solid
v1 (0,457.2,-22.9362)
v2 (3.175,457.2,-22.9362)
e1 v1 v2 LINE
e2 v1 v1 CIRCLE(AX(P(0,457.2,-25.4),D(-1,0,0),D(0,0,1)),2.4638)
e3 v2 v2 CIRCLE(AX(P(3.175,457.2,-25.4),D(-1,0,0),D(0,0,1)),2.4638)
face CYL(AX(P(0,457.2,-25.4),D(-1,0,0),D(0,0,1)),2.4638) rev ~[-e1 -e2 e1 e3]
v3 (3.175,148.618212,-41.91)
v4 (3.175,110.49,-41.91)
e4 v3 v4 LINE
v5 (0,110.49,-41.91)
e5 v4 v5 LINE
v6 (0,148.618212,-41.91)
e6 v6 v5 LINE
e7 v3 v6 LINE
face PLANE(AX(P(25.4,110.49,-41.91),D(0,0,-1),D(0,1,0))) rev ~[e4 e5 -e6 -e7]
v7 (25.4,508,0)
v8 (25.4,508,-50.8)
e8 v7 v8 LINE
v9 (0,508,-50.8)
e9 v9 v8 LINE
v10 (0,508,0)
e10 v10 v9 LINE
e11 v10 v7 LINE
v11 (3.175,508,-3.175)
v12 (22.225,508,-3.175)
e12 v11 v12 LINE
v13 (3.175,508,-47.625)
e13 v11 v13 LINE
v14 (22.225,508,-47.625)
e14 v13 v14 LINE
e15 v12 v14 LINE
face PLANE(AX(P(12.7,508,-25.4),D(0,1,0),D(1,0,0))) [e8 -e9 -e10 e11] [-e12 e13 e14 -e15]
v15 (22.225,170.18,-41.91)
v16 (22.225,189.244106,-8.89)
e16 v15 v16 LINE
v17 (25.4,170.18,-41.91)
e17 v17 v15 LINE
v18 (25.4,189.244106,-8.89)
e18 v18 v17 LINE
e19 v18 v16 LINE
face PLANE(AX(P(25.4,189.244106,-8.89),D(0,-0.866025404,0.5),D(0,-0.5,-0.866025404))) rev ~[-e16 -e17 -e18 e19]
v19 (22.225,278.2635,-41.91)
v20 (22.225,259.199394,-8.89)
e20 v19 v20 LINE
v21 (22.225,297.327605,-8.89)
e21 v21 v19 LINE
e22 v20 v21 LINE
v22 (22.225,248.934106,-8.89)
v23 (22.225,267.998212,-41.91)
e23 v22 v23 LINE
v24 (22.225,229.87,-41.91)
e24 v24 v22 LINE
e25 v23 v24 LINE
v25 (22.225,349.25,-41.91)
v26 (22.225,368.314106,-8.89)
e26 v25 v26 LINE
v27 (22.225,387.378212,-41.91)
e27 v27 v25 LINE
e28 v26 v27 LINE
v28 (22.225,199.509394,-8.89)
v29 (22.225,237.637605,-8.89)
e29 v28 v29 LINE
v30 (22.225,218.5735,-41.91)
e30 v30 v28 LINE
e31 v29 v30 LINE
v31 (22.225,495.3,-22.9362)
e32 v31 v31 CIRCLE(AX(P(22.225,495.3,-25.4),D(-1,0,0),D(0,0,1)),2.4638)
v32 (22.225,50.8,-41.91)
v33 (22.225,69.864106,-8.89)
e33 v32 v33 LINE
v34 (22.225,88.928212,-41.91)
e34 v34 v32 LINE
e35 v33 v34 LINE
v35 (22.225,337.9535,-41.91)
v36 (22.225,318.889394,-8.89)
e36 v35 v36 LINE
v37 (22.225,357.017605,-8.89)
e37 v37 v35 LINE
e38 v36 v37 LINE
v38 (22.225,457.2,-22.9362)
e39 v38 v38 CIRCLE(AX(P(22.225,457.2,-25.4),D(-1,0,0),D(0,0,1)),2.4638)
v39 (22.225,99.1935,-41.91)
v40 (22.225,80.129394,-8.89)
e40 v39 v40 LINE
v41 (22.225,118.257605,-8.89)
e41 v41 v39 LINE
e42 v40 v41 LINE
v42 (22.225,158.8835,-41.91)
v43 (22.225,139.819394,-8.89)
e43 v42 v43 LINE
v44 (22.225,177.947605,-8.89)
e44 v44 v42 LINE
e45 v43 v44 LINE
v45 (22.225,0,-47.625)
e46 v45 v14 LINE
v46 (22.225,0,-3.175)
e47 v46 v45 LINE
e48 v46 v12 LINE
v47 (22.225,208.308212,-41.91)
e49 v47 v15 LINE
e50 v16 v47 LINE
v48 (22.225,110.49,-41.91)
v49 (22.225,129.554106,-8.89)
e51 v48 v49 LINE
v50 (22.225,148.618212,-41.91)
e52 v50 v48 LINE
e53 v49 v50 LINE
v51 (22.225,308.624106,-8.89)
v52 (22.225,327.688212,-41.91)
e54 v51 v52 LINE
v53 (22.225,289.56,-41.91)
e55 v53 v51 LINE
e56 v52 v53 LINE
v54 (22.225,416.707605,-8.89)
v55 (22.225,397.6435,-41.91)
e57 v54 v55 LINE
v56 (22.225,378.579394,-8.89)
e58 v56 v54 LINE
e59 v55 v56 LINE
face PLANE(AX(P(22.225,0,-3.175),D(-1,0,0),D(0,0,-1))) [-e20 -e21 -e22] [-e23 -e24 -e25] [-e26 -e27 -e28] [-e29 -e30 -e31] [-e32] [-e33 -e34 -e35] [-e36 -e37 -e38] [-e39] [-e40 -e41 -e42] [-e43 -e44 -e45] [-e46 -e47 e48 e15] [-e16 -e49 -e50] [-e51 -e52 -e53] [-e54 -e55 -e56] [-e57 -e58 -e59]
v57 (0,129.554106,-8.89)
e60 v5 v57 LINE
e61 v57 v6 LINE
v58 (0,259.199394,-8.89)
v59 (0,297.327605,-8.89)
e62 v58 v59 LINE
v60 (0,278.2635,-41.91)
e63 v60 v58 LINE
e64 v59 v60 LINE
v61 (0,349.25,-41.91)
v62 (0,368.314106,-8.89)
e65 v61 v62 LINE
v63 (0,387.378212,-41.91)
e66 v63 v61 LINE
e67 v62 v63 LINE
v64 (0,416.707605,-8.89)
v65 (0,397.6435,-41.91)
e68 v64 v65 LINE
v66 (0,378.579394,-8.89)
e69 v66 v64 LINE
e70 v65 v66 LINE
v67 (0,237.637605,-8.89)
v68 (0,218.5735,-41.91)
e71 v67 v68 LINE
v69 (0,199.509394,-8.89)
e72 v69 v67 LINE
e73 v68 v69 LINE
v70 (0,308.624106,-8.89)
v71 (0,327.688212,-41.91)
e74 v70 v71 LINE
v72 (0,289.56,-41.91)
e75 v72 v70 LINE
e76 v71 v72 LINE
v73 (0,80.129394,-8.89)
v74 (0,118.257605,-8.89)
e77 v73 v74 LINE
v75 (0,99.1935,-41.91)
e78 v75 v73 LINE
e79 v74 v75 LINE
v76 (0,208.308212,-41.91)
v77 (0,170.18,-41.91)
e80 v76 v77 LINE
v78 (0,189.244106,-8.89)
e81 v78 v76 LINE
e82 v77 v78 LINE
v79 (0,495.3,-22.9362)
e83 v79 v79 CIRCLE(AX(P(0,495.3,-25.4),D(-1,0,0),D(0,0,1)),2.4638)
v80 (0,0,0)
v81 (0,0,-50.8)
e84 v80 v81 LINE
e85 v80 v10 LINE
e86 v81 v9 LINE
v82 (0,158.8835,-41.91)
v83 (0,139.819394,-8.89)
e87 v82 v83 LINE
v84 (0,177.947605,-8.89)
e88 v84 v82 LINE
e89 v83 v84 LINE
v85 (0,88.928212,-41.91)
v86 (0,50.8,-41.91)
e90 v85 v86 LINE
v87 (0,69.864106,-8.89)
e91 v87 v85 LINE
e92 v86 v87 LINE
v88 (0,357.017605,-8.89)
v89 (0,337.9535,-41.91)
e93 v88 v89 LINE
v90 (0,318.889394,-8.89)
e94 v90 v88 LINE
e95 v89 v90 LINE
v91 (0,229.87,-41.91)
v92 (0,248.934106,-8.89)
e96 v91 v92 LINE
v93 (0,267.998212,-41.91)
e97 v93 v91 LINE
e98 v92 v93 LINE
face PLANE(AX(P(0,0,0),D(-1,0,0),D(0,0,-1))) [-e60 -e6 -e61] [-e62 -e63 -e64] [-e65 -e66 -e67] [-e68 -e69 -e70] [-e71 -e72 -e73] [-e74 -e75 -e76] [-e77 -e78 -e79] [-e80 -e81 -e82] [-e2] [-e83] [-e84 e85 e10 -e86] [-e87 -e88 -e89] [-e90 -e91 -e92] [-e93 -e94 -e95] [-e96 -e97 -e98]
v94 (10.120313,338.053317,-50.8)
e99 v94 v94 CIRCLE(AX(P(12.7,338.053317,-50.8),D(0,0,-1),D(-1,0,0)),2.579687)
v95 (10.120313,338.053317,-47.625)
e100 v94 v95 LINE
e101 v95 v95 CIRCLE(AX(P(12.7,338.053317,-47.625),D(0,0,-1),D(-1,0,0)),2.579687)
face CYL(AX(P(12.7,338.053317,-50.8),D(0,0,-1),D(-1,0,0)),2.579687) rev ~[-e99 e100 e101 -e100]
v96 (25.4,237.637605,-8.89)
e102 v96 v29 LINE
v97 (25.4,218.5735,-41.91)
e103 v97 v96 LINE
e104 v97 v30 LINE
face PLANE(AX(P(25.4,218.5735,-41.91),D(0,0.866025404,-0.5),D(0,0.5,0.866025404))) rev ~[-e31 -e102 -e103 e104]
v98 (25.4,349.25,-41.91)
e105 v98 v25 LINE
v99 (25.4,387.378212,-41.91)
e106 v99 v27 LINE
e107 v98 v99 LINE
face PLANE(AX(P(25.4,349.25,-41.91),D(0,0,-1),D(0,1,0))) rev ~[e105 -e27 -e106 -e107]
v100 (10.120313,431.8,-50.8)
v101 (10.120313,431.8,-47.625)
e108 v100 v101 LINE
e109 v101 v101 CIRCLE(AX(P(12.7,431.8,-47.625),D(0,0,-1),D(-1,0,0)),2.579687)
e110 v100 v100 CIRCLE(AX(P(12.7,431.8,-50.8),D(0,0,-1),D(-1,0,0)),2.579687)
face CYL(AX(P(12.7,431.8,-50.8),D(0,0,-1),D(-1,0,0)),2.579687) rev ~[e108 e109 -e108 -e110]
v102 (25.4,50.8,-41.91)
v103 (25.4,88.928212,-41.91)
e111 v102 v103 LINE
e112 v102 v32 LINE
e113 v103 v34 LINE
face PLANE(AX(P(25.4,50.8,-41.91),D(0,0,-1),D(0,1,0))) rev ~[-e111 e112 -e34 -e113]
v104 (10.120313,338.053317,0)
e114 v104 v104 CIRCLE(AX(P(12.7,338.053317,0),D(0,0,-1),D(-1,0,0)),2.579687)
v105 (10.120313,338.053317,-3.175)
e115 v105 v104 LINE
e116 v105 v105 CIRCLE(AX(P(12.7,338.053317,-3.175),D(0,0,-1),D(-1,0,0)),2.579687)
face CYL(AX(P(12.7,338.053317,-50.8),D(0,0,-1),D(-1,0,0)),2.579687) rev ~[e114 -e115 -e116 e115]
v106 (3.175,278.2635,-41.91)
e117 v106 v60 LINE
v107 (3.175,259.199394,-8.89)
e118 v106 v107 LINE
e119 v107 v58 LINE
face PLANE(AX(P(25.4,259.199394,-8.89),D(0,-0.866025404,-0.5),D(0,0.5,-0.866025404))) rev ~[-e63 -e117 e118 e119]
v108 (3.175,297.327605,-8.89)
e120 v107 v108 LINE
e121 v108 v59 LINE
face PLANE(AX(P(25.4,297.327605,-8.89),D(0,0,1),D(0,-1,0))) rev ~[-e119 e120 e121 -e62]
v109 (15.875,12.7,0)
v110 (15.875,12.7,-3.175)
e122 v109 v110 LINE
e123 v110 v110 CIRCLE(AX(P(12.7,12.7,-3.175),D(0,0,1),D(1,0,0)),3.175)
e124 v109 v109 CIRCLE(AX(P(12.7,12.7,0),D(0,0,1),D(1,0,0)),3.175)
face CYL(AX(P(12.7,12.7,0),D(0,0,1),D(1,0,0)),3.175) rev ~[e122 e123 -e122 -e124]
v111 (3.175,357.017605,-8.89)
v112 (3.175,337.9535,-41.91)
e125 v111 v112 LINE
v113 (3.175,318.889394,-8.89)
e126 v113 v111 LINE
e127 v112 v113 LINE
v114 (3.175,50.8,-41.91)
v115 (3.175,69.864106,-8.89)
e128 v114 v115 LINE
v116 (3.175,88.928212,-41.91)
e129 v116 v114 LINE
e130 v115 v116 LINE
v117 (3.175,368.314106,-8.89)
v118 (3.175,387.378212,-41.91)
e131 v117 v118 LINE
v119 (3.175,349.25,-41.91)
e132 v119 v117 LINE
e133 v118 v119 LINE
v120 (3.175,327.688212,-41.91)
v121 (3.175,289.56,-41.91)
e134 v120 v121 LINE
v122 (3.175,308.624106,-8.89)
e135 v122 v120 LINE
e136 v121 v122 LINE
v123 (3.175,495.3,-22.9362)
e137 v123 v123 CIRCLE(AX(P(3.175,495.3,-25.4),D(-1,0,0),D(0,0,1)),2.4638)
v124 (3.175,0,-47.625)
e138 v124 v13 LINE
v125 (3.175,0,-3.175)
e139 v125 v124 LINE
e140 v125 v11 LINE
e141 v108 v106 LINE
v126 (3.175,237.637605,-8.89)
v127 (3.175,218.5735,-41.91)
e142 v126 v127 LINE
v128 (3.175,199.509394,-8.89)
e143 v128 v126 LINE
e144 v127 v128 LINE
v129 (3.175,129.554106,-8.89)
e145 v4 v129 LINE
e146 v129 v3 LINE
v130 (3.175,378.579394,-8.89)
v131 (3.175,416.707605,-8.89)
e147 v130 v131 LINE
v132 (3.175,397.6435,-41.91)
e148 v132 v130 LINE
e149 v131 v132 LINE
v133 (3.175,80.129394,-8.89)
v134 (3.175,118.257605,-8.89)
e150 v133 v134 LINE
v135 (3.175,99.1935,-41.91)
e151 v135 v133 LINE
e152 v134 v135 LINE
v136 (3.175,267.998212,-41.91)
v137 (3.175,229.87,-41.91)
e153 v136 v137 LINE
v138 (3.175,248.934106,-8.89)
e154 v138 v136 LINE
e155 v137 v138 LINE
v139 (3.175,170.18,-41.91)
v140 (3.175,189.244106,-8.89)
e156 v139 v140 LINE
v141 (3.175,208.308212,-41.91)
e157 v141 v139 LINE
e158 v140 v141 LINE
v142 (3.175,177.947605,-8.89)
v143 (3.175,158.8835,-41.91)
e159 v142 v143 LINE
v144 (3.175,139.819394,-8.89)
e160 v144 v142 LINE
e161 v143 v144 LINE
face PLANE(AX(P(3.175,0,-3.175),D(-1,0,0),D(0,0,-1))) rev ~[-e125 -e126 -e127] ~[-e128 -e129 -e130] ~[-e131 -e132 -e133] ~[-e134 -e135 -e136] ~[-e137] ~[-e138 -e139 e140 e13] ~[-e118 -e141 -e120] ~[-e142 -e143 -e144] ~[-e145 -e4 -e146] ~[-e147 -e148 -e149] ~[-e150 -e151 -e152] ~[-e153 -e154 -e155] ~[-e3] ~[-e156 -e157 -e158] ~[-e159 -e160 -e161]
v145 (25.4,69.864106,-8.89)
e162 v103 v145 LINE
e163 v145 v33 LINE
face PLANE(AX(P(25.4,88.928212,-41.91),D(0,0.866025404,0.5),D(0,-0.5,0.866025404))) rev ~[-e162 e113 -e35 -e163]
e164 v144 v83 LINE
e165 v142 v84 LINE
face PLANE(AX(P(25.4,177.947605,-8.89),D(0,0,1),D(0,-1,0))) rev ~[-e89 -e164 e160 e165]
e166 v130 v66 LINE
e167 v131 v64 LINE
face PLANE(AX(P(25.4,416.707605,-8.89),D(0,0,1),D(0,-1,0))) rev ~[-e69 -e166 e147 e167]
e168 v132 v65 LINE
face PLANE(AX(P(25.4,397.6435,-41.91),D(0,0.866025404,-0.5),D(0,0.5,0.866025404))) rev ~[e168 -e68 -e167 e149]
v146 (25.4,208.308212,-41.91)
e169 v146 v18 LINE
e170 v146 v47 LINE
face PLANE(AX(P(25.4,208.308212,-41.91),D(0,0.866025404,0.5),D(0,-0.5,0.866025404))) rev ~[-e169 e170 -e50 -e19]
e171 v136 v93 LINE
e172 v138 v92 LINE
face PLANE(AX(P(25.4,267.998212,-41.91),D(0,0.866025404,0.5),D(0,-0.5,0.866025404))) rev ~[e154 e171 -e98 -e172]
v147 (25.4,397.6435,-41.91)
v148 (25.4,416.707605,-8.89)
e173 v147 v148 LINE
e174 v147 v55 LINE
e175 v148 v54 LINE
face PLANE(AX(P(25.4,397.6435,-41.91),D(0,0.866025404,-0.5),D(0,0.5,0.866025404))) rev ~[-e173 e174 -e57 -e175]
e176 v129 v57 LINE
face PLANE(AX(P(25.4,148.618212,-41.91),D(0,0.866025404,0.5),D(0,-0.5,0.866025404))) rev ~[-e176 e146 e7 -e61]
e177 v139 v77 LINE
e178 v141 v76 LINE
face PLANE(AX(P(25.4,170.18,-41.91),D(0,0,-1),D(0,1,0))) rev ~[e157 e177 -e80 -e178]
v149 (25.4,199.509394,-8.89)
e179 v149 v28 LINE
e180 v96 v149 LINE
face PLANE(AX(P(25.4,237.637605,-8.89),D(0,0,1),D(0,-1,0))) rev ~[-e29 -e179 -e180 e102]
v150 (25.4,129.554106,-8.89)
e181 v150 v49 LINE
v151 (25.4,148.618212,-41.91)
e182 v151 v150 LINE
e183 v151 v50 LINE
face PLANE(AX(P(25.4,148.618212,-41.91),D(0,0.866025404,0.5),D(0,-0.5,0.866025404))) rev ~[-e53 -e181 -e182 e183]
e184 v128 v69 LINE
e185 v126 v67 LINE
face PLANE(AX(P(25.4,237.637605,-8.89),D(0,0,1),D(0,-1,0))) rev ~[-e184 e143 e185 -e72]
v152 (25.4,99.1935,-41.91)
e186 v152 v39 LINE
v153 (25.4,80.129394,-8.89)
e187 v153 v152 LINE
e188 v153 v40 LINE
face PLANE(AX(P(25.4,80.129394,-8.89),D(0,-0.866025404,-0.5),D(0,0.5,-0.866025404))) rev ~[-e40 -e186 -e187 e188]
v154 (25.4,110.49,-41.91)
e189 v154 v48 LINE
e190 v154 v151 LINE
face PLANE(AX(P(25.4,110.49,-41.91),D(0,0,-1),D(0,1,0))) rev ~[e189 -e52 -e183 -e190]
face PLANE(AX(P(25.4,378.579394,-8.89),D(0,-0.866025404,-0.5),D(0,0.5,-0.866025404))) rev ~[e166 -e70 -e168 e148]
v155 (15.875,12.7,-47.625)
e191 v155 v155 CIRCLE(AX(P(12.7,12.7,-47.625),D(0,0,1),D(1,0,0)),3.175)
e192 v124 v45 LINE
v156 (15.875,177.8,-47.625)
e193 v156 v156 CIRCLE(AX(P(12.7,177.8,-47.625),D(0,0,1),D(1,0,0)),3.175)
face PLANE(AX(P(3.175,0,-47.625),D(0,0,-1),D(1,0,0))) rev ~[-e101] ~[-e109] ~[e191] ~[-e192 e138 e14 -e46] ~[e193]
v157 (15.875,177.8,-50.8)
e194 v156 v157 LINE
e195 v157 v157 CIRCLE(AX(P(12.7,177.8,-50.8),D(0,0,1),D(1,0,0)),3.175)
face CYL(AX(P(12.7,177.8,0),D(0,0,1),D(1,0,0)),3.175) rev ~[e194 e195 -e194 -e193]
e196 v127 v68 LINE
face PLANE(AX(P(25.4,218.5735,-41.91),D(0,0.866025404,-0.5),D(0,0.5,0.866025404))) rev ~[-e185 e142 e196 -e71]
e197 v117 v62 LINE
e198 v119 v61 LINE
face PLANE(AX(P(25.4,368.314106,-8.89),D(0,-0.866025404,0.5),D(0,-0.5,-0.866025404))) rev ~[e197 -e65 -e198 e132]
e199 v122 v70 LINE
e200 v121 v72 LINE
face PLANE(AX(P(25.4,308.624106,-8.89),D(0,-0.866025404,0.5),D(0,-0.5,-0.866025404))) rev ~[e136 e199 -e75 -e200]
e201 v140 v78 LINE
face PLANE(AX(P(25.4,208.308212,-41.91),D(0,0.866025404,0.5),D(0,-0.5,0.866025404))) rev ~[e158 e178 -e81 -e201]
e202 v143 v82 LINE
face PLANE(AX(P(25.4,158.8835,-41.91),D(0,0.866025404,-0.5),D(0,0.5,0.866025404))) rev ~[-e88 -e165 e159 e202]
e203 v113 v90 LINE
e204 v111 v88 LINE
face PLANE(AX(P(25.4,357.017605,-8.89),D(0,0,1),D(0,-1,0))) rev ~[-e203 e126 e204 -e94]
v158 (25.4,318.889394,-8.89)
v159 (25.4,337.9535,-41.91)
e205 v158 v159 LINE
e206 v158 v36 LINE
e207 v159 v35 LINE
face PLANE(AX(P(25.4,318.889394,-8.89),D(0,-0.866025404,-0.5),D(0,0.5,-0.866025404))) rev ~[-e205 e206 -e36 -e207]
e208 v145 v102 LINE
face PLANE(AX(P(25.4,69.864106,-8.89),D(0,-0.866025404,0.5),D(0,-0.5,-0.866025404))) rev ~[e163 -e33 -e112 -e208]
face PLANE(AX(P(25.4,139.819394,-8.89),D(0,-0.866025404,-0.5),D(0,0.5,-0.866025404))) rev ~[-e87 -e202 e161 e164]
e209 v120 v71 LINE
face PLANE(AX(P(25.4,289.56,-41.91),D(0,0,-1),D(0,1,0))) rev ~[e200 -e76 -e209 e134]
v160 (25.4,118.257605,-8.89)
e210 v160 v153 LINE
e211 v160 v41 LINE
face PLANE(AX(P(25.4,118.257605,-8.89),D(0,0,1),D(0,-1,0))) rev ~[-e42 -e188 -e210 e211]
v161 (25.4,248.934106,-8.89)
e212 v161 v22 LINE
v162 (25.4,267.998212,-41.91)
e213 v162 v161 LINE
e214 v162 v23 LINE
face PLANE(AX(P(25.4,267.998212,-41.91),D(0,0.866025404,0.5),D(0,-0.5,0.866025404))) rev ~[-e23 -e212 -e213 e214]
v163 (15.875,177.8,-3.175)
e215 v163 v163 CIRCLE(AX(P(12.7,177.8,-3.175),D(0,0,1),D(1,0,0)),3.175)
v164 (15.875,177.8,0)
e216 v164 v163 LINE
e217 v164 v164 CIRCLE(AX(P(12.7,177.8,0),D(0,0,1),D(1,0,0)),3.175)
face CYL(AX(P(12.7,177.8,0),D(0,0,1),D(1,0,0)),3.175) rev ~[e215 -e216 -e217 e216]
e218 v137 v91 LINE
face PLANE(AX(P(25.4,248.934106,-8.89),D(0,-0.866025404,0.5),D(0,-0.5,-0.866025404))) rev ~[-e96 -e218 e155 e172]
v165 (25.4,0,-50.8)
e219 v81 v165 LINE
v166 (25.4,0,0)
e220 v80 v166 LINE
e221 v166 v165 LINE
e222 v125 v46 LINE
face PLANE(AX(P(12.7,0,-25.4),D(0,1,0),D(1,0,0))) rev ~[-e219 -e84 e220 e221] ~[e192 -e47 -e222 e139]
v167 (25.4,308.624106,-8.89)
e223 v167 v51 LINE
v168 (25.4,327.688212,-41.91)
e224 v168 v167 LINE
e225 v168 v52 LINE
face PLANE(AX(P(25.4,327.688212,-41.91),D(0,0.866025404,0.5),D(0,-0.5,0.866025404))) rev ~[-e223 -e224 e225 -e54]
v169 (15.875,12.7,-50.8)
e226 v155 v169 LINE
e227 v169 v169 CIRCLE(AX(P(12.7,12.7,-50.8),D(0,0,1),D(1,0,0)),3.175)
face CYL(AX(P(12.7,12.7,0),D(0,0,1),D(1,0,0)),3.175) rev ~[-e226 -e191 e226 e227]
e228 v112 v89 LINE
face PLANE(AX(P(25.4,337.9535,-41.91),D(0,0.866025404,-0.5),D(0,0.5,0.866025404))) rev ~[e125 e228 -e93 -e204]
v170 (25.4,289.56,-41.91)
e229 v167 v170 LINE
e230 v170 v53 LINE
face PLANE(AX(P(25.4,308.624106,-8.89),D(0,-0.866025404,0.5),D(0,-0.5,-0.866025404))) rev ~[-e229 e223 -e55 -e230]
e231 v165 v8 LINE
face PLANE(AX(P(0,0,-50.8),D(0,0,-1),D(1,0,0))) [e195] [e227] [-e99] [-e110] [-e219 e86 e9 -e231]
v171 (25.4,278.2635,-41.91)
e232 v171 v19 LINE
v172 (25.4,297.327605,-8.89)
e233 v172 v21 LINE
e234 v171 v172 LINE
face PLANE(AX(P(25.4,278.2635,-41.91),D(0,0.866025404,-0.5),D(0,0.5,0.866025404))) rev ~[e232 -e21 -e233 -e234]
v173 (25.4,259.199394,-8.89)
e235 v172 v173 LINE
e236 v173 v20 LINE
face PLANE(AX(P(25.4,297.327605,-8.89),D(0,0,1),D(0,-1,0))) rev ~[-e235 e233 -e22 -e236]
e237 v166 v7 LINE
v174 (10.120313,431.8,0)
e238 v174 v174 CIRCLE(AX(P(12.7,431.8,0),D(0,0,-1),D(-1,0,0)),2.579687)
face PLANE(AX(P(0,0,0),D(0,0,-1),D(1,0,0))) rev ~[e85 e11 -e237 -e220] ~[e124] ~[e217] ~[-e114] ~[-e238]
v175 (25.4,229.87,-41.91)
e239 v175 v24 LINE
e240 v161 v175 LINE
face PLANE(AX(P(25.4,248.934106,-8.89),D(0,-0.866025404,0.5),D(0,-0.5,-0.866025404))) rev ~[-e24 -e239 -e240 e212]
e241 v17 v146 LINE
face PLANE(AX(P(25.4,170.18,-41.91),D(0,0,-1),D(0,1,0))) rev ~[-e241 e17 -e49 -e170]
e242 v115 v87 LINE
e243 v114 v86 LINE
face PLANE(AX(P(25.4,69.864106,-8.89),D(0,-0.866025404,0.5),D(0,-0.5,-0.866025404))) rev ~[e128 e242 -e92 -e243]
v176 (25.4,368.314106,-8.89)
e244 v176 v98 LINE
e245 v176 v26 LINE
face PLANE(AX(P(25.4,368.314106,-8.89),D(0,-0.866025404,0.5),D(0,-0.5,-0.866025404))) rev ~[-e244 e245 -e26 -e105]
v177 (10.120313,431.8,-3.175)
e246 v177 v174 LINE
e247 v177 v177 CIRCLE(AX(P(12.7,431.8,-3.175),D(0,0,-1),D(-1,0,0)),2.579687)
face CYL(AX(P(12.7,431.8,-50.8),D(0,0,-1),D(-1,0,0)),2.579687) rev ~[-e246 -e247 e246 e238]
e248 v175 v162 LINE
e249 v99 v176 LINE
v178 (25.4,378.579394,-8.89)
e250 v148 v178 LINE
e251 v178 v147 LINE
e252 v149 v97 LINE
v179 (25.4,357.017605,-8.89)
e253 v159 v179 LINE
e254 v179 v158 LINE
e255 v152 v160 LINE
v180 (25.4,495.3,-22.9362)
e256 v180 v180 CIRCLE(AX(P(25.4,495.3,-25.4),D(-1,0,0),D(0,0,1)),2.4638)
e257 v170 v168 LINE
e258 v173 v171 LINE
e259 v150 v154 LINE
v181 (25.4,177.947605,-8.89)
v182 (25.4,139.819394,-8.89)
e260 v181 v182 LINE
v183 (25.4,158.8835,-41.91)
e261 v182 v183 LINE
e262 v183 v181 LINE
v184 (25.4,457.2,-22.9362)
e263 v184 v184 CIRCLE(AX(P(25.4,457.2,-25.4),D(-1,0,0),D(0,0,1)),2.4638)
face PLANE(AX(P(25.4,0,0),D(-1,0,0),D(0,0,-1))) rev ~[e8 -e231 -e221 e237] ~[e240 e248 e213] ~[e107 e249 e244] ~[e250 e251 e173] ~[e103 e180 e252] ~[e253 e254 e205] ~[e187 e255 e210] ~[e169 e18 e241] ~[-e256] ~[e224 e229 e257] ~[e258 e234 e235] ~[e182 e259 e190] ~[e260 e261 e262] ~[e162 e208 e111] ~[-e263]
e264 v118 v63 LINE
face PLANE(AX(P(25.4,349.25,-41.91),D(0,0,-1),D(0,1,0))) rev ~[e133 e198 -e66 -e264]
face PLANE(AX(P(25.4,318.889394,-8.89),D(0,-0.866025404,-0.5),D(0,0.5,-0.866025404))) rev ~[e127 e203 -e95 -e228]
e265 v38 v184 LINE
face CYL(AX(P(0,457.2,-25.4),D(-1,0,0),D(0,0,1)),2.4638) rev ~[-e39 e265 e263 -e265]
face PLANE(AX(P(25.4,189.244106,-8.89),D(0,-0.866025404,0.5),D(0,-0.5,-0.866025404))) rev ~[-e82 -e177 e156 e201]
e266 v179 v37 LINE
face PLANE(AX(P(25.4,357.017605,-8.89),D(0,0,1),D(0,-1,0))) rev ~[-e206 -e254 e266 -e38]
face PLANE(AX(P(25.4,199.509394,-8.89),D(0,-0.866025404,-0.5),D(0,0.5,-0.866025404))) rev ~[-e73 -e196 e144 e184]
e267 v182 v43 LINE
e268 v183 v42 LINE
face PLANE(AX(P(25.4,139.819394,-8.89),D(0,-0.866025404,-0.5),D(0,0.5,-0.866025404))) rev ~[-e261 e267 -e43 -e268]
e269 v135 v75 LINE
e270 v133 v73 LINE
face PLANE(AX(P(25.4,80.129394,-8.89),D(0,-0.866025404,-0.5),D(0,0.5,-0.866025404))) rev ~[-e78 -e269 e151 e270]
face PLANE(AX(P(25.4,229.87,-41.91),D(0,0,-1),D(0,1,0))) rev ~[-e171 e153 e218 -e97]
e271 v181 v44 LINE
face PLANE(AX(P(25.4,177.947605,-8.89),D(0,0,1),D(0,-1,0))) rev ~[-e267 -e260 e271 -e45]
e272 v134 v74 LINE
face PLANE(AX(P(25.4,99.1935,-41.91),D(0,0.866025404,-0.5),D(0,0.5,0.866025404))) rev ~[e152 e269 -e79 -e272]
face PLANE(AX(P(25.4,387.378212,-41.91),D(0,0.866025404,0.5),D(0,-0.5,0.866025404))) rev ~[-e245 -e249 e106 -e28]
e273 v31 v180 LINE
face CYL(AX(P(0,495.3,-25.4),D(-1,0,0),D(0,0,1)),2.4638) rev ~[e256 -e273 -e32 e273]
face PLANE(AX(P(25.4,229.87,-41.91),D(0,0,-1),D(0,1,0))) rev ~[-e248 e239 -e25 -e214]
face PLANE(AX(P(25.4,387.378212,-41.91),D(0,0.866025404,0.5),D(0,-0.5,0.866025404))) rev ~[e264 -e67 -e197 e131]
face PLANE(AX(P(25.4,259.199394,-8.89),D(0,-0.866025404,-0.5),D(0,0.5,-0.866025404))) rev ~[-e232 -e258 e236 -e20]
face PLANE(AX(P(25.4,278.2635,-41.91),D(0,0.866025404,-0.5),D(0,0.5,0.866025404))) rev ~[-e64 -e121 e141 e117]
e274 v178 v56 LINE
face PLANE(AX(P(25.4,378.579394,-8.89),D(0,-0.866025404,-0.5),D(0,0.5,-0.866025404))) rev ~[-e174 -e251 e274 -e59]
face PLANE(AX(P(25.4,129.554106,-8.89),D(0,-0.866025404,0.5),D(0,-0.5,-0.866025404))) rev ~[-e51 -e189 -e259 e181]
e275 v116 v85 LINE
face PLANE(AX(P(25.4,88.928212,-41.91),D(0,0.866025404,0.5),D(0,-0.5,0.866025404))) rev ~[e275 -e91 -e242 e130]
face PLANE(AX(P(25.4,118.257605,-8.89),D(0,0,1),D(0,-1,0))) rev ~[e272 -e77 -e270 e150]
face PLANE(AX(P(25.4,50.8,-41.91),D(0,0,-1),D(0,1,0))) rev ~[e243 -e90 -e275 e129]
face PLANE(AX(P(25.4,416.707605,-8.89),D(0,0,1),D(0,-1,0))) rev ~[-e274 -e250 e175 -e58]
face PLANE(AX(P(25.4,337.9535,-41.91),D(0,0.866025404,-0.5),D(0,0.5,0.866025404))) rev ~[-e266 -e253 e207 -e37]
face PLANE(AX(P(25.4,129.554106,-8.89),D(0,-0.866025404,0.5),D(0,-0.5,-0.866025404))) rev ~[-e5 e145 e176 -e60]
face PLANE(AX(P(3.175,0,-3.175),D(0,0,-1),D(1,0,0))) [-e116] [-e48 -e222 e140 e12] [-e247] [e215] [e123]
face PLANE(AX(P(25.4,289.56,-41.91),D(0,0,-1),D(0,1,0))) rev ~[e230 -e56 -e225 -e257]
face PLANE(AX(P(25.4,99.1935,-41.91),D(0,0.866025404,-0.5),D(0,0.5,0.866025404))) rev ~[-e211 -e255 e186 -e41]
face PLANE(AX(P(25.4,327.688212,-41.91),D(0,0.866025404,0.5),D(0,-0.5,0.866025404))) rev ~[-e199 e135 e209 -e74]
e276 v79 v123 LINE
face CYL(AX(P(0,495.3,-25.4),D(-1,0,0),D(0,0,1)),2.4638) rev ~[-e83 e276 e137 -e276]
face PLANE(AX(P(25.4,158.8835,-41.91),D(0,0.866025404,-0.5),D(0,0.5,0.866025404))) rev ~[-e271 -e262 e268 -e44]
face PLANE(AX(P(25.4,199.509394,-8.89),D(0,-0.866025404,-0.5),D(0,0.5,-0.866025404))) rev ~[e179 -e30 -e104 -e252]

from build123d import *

# Parameters (mm, degrees)
SKETCH1_W           = 25.4
SKETCH1_H           = 50.8
SKETCH1_W_2         = 19.05
SKETCH1_H_2         = 44.45
BOSS_EXTRUDE1_DEPTH = 508
SKETCH3_R           = 3.175
CUT_EXTRUDE1_DEPTH  = 512.165139656
SKETCH4_R           = 2.4638
CUT_EXTRUDE2_DEPTH  = 512.165139656
CUT_EXTRUDE3_DEPTH  = 512.165139656
LPATTERN1_COUNT     = 6
LPATTERN1_PITCH     = 59.69
SKETCH6_R           = 2.5796875
CUT_EXTRUDE4_DEPTH  = 512.165139656


with BuildPart() as part:
    # Sketch1 → Boss-Extrude1 (new body)
    with BuildSketch(Plane(origin=(0, 0, 0), x_dir=(1, 0, 0), z_dir=(0, 1, 0))):
        with Locations((12.7, 25.4)):
            Rectangle(SKETCH1_W, SKETCH1_H)
        with Locations((12.7, 25.4)):
            Rectangle(SKETCH1_W_2, SKETCH1_H_2, mode=Mode.SUBTRACT)
    extrude(amount=BOSS_EXTRUDE1_DEPTH)

    # Sketch3 → Cut-Extrude1 (cut, through all)
    with BuildSketch(Plane.XY):
        with Locations((12.7, 177.8)):
            Circle(SKETCH3_R)
        with Locations((12.7, 12.7)):
            Circle(SKETCH3_R)
    extrude(amount=-CUT_EXTRUDE1_DEPTH, mode=Mode.SUBTRACT)

    # Sketch4 → Cut-Extrude2 (cut, through all)
    with BuildSketch(Plane.ZY):
        with Locations((-25.4, 457.2)):
            Circle(SKETCH4_R)
        with Locations((-25.4, 495.3)):
            Circle(SKETCH4_R)
    extrude(amount=-CUT_EXTRUDE2_DEPTH, mode=Mode.SUBTRACT)

    # Sketch5 → Cut-Extrude3 (cut, through all)
    with BuildSketch(Plane(origin=(25.4, 0, 0), x_dir=(0, 0, -1), z_dir=(1, 0, 0))):
        Polygon((41.91, 88.928211777), (8.89, 69.864105889), (41.91, 50.8), align=None)
        Polygon((41.91, 99.193499563), (8.89, 118.257605452), (8.89, 80.129393675), align=None)
    cut_extrude3 = extrude(amount=-CUT_EXTRUDE3_DEPTH, mode=Mode.SUBTRACT)

    # LPattern1: Cut-Extrude3 ×6
    with Locations(*[(0, i * LPATTERN1_PITCH, 0) for i in range(1, LPATTERN1_COUNT)]):
        add(cut_extrude3, mode=Mode.SUBTRACT)

    # Sketch6 → Cut-Extrude4 (cut, through all)
    with BuildSketch(Plane(origin=(0, 0, -50.8), x_dir=(-1, 0, 0), z_dir=(0, 0, -1))):
        with Locations((-12.7, 431.8)):
            Circle(SKETCH6_R)
        with Locations((-12.7, 338.053316528)):
            Circle(SKETCH6_R)
    extrude(amount=-CUT_EXTRUDE4_DEPTH, mode=Mode.SUBTRACT)


solid = part.part
